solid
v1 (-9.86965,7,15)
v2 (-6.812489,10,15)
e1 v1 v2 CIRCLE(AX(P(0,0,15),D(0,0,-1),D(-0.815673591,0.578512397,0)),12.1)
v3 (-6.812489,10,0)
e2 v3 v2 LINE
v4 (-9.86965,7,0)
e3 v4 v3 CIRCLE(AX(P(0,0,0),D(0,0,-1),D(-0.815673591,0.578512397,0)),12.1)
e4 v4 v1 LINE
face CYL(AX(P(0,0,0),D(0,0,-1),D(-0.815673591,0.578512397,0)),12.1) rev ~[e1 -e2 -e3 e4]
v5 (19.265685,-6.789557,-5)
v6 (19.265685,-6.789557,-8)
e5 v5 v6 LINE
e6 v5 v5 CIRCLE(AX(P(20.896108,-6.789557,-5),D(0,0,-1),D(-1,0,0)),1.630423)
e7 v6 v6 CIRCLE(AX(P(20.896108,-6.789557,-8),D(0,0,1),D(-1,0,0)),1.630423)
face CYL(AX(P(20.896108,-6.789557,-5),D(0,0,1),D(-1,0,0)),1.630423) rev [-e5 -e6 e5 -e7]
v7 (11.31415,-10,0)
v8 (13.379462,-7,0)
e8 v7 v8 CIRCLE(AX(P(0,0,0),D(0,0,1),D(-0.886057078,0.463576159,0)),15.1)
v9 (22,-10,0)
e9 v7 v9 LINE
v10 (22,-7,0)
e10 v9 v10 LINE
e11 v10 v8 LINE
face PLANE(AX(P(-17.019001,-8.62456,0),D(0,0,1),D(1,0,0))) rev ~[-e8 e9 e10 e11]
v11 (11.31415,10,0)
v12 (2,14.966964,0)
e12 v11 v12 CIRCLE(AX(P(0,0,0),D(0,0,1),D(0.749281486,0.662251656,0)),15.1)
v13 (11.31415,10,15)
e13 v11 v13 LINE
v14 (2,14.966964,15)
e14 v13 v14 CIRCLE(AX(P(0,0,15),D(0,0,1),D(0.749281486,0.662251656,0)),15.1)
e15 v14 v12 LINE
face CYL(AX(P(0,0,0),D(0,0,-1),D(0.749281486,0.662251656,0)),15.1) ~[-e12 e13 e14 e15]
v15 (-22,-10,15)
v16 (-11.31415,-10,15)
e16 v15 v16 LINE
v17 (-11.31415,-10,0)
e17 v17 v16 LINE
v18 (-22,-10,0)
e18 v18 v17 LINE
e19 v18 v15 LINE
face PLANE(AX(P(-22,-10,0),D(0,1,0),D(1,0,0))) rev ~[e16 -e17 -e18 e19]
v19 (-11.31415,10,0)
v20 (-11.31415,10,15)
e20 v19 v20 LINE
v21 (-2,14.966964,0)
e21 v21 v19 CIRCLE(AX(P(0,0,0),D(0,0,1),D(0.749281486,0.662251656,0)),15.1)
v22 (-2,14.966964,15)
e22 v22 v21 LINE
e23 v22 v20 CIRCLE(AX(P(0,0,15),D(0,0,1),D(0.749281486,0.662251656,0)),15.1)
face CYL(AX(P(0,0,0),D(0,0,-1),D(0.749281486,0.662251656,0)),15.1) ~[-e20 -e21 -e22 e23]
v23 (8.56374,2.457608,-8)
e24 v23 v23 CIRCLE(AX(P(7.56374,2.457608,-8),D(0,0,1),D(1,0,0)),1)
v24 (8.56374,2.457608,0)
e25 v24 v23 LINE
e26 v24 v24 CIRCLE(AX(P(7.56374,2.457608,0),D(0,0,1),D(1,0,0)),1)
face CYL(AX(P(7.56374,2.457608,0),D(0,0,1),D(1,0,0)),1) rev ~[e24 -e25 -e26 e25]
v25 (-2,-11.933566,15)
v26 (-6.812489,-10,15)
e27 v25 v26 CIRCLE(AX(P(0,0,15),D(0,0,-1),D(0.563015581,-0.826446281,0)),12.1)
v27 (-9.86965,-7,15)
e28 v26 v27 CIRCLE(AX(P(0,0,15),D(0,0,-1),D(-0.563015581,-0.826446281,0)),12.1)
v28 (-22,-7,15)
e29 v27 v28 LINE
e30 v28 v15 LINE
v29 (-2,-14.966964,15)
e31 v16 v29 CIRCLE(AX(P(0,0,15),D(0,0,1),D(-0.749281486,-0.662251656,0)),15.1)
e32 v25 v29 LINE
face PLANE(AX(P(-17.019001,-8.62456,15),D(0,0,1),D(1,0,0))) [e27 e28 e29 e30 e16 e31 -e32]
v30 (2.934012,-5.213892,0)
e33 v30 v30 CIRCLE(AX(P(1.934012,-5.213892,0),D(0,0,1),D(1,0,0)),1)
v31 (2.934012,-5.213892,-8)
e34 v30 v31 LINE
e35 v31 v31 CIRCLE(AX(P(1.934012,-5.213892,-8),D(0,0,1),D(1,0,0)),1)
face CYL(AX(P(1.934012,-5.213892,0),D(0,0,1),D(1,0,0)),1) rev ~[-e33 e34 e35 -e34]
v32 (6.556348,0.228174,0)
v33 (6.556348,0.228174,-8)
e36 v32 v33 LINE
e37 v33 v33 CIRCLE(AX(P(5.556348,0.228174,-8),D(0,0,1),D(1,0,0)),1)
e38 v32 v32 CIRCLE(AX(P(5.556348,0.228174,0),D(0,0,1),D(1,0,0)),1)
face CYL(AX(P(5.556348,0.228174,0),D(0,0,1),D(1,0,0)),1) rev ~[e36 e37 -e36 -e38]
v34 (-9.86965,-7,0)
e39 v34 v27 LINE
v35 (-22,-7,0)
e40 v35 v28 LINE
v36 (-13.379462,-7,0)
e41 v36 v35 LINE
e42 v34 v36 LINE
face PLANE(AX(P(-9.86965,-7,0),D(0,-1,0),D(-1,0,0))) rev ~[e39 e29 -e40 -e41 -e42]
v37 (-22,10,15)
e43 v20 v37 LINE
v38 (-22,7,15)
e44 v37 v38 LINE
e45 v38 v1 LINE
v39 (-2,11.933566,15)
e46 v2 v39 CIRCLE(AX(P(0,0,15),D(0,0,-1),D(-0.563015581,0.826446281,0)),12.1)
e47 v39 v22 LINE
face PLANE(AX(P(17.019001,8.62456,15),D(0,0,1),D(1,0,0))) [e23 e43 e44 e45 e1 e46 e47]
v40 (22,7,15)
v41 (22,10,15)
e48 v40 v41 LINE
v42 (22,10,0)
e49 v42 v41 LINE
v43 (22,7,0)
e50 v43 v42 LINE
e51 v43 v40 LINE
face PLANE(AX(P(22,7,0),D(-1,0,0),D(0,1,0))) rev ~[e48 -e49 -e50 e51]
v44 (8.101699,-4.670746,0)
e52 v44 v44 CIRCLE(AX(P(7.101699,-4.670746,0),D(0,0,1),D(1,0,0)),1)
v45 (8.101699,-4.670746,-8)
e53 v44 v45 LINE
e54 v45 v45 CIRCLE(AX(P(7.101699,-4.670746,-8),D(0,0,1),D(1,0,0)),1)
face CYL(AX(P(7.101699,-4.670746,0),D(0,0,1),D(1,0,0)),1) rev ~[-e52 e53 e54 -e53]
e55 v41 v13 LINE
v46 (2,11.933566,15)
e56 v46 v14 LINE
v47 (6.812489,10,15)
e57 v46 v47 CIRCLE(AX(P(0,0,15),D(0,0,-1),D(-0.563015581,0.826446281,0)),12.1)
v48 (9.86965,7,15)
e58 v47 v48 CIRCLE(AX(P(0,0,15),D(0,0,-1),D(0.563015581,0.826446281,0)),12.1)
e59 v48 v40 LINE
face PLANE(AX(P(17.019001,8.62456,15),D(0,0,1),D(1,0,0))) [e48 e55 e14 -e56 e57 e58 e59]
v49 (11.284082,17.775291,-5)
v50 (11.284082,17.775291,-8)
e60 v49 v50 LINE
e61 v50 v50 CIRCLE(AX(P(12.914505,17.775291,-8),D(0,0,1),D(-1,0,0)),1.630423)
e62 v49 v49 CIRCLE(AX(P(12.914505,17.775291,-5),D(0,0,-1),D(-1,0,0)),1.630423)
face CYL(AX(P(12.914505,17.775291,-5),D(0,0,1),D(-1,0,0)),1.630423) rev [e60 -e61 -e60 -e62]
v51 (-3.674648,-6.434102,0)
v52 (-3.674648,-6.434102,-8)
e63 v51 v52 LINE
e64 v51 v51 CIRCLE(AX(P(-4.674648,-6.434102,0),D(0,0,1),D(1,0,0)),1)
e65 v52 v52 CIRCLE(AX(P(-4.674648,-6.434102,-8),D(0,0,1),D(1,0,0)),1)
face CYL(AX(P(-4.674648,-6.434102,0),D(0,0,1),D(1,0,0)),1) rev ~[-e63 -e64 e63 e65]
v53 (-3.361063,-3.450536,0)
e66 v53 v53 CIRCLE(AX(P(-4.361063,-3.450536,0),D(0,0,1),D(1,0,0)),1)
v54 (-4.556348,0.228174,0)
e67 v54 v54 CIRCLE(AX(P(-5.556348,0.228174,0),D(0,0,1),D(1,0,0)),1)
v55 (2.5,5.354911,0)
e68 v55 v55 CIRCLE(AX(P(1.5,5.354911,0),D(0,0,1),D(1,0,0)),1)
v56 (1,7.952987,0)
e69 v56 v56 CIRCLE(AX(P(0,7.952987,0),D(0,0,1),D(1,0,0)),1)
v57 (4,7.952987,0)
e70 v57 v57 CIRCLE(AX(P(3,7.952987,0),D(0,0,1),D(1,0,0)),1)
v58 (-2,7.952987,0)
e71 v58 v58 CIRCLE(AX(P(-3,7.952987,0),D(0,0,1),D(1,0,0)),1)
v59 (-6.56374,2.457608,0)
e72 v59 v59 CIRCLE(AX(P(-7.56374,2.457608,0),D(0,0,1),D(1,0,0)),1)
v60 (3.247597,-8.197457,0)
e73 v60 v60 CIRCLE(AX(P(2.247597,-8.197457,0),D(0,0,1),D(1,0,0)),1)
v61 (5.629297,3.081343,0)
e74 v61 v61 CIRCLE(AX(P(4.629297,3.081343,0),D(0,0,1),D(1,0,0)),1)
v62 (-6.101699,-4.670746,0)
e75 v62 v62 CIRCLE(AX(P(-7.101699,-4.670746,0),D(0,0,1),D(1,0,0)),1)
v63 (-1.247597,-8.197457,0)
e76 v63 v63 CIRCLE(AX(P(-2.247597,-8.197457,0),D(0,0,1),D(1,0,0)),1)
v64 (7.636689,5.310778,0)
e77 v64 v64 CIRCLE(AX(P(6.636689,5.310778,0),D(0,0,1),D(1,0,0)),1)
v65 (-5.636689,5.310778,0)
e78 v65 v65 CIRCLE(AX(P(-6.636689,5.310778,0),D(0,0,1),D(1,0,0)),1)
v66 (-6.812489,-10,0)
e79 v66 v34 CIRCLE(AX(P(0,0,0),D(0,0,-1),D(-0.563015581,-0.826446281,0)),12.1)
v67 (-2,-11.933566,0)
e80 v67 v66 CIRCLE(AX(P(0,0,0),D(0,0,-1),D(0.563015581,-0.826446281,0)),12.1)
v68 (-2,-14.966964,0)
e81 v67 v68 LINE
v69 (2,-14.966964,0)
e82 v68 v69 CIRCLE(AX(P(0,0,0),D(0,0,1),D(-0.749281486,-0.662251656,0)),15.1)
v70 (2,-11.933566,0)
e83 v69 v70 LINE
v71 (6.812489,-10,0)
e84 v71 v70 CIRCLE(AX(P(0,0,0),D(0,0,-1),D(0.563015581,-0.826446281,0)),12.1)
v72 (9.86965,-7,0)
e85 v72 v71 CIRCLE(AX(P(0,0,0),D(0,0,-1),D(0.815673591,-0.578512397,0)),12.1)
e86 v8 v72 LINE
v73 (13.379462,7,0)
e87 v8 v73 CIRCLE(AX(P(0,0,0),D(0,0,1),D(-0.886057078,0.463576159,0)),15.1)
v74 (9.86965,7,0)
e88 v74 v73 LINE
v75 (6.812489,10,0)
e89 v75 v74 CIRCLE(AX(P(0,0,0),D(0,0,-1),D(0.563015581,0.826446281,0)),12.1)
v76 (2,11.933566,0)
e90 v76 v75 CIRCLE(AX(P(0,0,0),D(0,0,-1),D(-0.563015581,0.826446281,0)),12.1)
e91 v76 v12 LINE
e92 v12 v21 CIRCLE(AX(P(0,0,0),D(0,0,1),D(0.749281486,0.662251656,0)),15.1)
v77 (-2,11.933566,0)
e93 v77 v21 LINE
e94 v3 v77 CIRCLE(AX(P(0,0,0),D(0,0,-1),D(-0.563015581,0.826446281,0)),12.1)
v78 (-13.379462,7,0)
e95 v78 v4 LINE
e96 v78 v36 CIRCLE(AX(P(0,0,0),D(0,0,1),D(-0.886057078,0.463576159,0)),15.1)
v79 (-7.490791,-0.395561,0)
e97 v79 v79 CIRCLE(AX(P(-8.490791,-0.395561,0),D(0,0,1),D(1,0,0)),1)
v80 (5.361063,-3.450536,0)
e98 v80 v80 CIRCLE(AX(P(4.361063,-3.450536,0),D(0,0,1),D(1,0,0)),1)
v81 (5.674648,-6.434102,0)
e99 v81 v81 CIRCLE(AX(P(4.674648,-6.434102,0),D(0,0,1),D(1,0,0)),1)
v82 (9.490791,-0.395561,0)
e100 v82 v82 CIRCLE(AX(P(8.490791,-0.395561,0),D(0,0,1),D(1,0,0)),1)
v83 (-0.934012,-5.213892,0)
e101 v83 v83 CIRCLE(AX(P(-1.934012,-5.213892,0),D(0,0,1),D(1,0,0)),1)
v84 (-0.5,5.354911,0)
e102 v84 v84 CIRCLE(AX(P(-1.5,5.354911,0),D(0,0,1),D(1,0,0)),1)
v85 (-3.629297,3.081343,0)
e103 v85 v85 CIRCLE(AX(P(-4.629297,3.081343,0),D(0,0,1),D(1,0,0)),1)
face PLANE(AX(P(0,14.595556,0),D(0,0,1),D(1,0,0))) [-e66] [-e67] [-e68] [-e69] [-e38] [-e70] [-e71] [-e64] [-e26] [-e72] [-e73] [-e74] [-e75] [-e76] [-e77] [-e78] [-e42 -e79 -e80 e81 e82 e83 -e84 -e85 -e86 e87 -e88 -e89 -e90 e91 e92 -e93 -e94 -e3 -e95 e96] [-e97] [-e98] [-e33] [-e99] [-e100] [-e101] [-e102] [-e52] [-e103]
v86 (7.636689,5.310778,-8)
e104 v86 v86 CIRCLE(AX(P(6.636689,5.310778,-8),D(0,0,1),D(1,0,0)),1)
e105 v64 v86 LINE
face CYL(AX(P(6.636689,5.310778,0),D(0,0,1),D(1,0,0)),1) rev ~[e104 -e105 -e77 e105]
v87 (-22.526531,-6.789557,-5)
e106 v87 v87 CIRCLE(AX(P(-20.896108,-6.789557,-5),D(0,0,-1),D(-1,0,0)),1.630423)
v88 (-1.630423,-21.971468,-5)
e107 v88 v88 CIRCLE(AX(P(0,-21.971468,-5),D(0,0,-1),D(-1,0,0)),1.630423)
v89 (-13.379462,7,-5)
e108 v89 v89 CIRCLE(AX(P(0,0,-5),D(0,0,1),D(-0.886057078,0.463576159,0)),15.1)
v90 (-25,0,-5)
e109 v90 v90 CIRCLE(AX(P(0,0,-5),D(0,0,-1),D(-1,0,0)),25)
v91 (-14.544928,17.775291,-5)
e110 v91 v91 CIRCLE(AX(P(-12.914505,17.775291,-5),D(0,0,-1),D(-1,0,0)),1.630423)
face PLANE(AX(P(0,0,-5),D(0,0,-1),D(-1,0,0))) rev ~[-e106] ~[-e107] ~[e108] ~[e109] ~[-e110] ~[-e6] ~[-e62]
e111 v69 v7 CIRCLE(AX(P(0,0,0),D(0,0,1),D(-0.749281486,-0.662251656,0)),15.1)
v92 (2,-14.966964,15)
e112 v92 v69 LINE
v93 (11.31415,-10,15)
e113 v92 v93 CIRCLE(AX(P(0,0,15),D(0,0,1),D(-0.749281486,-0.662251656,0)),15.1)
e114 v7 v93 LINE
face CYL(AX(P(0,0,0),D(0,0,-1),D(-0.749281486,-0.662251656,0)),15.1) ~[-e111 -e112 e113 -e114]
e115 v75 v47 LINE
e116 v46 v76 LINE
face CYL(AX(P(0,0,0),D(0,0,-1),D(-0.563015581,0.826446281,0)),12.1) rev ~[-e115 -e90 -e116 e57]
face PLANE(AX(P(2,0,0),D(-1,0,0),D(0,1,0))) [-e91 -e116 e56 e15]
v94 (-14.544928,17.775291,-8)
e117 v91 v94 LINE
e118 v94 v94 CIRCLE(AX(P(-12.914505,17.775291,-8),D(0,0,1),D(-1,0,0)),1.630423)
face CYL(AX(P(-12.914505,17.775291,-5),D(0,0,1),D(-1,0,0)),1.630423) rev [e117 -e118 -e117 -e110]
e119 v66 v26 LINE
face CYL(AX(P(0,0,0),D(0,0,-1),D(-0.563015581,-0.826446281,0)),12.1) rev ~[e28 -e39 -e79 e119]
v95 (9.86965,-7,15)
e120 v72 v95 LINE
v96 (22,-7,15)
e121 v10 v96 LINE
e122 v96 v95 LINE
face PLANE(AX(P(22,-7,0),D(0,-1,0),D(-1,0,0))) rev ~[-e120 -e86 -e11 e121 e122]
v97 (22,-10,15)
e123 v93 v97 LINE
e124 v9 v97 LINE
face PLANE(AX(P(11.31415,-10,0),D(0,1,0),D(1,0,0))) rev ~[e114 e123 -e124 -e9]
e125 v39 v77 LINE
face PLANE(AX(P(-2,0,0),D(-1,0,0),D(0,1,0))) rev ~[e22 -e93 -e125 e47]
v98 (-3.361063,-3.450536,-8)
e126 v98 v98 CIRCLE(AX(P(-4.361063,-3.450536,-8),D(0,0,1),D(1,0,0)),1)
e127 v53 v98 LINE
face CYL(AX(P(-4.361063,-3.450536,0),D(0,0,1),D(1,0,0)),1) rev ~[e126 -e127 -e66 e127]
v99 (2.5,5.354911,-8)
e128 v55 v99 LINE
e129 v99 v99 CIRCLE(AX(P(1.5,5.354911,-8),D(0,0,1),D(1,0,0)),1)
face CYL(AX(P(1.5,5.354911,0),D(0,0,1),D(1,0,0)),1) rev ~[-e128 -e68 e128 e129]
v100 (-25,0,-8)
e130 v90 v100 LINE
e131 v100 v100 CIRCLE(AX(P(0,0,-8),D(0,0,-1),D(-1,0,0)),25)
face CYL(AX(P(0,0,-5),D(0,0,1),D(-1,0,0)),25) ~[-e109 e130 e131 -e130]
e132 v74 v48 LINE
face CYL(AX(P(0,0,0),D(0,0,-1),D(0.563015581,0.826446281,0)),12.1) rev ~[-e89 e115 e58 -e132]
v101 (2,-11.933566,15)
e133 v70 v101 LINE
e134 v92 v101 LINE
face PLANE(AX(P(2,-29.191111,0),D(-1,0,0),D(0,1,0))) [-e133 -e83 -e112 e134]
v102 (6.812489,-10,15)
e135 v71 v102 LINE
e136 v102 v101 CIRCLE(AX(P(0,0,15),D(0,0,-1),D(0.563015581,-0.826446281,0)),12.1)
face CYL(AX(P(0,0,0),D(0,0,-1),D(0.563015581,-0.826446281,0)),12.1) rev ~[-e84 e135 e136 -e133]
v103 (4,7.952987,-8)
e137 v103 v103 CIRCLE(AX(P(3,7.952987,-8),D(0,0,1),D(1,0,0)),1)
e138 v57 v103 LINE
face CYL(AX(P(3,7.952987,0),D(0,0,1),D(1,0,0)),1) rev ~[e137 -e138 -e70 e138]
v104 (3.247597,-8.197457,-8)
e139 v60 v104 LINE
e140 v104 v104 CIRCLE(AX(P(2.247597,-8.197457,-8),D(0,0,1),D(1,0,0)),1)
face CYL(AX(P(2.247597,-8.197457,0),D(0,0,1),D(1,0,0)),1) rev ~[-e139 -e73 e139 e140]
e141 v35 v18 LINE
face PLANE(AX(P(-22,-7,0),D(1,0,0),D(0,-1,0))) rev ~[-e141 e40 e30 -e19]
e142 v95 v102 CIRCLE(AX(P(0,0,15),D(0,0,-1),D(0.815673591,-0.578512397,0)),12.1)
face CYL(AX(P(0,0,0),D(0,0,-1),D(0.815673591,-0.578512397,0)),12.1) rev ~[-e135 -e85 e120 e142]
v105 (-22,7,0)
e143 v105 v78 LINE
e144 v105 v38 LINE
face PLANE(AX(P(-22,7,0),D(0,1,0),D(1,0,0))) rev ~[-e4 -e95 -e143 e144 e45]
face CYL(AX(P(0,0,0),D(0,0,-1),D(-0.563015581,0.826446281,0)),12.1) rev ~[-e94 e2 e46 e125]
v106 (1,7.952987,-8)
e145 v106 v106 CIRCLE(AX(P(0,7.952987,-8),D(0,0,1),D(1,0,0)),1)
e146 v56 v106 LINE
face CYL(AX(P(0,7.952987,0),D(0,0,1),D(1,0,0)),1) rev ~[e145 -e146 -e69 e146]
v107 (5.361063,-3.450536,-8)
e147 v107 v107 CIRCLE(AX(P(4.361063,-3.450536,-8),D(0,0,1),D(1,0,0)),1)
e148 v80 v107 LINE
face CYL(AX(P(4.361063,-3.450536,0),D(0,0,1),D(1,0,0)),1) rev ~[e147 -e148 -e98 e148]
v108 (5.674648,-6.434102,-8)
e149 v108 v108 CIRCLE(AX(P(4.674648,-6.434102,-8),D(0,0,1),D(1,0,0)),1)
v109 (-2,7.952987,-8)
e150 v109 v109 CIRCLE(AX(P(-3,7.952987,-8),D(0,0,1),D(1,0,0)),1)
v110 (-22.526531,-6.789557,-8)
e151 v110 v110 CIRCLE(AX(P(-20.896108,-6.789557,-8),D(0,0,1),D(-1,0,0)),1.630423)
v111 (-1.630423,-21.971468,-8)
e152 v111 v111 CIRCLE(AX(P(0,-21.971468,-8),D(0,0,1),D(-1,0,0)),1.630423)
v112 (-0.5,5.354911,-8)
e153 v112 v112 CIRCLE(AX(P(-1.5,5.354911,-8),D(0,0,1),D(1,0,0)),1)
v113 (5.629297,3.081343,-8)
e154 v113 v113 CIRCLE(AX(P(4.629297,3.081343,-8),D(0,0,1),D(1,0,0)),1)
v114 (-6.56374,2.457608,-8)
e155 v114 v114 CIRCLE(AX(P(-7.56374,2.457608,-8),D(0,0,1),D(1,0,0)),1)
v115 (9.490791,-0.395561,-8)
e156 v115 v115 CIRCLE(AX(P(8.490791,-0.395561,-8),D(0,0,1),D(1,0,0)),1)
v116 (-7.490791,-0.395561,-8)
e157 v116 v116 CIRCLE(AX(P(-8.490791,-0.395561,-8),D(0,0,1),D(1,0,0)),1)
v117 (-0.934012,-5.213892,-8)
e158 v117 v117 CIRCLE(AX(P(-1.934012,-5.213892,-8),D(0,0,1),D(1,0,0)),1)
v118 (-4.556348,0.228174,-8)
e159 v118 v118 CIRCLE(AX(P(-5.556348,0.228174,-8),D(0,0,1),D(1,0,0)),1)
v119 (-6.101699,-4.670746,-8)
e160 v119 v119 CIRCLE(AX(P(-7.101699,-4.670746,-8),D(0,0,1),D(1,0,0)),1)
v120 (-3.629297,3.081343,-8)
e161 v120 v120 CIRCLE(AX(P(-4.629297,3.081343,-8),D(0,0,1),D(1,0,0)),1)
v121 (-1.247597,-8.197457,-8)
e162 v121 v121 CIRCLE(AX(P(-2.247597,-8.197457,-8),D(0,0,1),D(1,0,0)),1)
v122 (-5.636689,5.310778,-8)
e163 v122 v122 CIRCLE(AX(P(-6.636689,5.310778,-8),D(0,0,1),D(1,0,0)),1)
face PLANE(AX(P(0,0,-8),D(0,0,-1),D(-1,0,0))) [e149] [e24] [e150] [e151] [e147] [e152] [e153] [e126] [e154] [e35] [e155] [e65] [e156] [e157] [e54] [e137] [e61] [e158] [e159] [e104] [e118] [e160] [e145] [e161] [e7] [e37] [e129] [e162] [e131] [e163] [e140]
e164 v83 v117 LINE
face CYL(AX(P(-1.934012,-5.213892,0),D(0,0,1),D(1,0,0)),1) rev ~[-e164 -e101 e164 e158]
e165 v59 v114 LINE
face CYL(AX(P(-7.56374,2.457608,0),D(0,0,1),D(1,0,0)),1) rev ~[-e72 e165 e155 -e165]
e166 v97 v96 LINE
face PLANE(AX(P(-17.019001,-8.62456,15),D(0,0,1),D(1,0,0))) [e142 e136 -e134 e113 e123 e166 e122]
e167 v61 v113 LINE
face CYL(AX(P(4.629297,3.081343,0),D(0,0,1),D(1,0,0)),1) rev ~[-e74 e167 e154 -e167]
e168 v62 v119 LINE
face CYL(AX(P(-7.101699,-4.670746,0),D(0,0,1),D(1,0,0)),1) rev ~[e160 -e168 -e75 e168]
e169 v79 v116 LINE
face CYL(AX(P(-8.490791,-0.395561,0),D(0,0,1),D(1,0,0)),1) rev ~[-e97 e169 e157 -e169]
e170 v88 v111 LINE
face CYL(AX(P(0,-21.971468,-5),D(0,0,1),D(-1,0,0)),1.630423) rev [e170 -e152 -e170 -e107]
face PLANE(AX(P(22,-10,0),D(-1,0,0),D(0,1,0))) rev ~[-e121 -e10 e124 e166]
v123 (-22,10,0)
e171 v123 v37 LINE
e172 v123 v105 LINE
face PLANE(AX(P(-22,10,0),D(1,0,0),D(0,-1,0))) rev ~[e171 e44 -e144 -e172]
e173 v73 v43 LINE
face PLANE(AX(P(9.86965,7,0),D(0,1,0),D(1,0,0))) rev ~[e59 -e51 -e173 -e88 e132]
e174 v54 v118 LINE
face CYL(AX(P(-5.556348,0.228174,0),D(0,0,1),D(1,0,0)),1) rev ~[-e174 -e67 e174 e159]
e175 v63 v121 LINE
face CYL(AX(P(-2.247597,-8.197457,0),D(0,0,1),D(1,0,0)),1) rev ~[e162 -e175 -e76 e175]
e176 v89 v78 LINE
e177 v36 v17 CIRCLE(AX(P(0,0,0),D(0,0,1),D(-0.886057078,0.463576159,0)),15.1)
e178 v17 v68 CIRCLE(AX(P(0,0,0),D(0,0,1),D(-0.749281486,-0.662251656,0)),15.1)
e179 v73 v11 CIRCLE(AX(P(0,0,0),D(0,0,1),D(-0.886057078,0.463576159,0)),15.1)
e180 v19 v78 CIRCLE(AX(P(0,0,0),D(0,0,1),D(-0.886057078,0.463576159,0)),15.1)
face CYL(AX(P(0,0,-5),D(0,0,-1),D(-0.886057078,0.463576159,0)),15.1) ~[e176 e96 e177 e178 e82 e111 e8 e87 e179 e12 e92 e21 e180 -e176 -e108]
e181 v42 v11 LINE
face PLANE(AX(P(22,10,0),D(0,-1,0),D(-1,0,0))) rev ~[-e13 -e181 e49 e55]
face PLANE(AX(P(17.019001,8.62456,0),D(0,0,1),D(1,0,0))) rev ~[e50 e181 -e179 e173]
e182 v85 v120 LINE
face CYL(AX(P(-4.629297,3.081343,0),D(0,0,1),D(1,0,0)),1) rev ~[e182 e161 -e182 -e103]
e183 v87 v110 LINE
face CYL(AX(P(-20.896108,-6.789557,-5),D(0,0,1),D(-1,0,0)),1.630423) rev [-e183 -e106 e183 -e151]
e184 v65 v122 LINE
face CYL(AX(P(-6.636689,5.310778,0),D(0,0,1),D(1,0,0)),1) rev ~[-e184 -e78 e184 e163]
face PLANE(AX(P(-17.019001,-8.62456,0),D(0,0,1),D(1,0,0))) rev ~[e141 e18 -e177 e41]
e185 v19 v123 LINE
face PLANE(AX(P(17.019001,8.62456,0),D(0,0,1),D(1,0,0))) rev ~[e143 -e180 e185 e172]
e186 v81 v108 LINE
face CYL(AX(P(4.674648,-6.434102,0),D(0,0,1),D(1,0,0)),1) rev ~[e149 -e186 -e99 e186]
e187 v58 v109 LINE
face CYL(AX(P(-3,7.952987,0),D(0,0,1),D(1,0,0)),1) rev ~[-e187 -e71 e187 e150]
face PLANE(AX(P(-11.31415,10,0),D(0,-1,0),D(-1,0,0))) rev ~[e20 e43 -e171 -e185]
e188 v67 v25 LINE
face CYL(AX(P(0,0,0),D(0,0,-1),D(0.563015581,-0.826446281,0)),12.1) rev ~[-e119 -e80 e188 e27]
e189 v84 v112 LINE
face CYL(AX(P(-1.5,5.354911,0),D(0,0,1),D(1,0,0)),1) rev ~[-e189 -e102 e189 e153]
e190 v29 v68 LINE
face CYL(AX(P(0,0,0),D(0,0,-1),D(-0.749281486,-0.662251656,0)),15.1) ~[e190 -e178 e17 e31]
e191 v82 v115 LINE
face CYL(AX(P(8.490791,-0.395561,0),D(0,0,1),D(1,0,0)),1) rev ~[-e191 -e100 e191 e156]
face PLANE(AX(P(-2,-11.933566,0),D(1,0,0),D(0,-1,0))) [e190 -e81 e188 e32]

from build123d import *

# Parameters (mm, degrees)
EXTRUDE_1_DEPTH     = 15
EXTRUDE_START       = -5
SKETCH_2_R          = 15.1
EXTRUDE_2_DEPTH     = 5
CUT_EXTRUDE_START   = -15
SKETCH_4_W          = 4
SKETCH_4_H          = 29.19111141
CUT_EXTRUDE_1_DEPTH = 15
SKETCH_7_R          = 25
EXTRUDE_3_DEPTH     = 3
SKETCH_3_R          = 1.630422744
CUT_EXTRUDE_2_DEPTH = 9
SKETCH_8_R          = 1
CUT_EXTRUDE_3_DEPTH = 10


with BuildPart() as part:
    # 草图1 → 凸台-拉伸1 (new body)
    with BuildSketch(Plane.XY):
        with BuildLine():
            Line((13.379461873, 7), (20, 7))
            Line((20, 7), (22, 7))
            Line((22, 7), (22, 10))
            Line((22, 10), (11.314150432, 10))
            ThreePointArc((11.314150432, 10), (12.437589082, 8.562498341), (13.379461873, 7))
        make_face()
        with BuildLine():
            Line((6.812488532, 10), (11.314150432, 10))
            ThreePointArc((11.314150432, 10), (0, 15.1), (-11.314150432, 10))
            Line((-11.314150432, 10), (-6.812488532, 10))
            ThreePointArc((-6.812488532, 10), (0, 12.1), (6.812488532, 10))
        make_face()
        with BuildLine():
            Line((9.86965045, 7), (13.379461873, 7))
            ThreePointArc((13.379461873, 7), (12.437589082, 8.562498341), (11.314150432, 10))
            Line((11.314150432, 10), (6.812488532, 10))
            ThreePointArc((6.812488532, 10), (8.474871105, 8.636351067), (9.86965045, 7))
        make_face()
        with BuildLine():
            Line((-13.379461873, 7), (-9.86965045, 7))
            ThreePointArc((-9.86965045, 7), (-8.474871105, 8.636351067), (-6.812488532, 10))
            Line((-6.812488532, 10), (-11.314150432, 10))
            ThreePointArc((-11.314150432, 10), (-12.437589082, 8.562498341), (-13.379461873, 7))
        make_face()
        with BuildLine():
            ThreePointArc((-13.379461873, 7), (-12.437589082, 8.562498341), (-11.314150432, 10))
            Line((-11.314150432, 10), (-22, 10))
            Line((-22, 10), (-22, 7))
            Line((-22, 7), (-20, 7))
            Line((-20, 7), (-13.379461873, 7))
        make_face()
        with BuildLine():
            Line((-22, -10), (-11.314150432, -10))
            ThreePointArc((-11.314150432, -10), (-12.437589082, -8.562498341), (-13.379461873, -7))
            Line((-13.379461873, -7), (-20, -7))
            Line((-20, -7), (-22, -7))
            Line((-22, -7), (-22, -10))
        make_face()
        with BuildLine():
            ThreePointArc((11.314150432, -10), (12.437589082, -8.562498341), (13.379461873, -7))
            Line((13.379461873, -7), (9.86965045, -7))
            ThreePointArc((9.86965045, -7), (8.474871105, -8.636351067), (6.812488532, -10))
            Line((6.812488532, -10), (11.314150432, -10))
        make_face()
        with BuildLine():
            ThreePointArc((-6.812488532, -10), (-8.474871105, -8.636351067), (-9.86965045, -7))
            Line((-9.86965045, -7), (-13.379461873, -7))
            ThreePointArc((-13.379461873, -7), (-12.437589082, -8.562498341), (-11.314150432, -10))
            Line((-11.314150432, -10), (-6.812488532, -10))
        make_face()
        with BuildLine():
            ThreePointArc((-11.314150432, -10), (0, -15.1), (11.314150432, -10))
            Line((11.314150432, -10), (6.812488532, -10))
            ThreePointArc((6.812488532, -10), (0, -12.1), (-6.812488532, -10))
            Line((-6.812488532, -10), (-11.314150432, -10))
        make_face()
        with BuildLine():
            Line((22, -7), (20, -7))
            Line((20, -7), (13.379461873, -7))
            ThreePointArc((13.379461873, -7), (12.437589082, -8.562498341), (11.314150432, -10))
            Line((11.314150432, -10), (22, -10))
            Line((22, -10), (22, -7))
        make_face()
    extrude(amount=EXTRUDE_1_DEPTH)

    # 草图2 → 凸台-拉伸2 (add)
    with BuildSketch(Plane.XY.offset(EXTRUDE_START)):
        with Locations(Location((0, 0, 0), (0, 0, 152.381887639))):
            Circle(SKETCH_2_R)
    extrude(amount=EXTRUDE_2_DEPTH)

    # 草图4 → 切除-拉伸1 (cut)
    with BuildSketch(Plane.XY.offset(15).offset(CUT_EXTRUDE_START)):
        with Locations((0, 14.595555705)):
            Rectangle(SKETCH_4_W, SKETCH_4_H)
        with BuildLine():
            Line((-2, -14.96696362), (-2, -29.19111141))
            Line((-2, -29.19111141), (2, -29.19111141))
            Line((2, -29.19111141), (2, -14.96696362))
            ThreePointArc((2, -14.96696362), (0, -15.1), (-2, -14.96696362))
        make_face()
        with BuildLine():
            Line((-2, -11.933566106), (-2, -14.96696362))
            ThreePointArc((-2, -14.96696362), (0, -15.1), (2, -14.96696362))
            Line((2, -14.96696362), (2, -11.933566106))
            ThreePointArc((2, -11.933566106), (0, -12.1), (-2, -11.933566106))
        make_face()
    extrude(amount=CUT_EXTRUDE_1_DEPTH, mode=Mode.SUBTRACT)

    # 草图7 → 凸台-拉伸3 (add)
    with BuildSketch(Plane(origin=(0, 0, -5), x_dir=(-1, 0, 0), z_dir=(0, 0, -1))):
        Circle(SKETCH_7_R)
    extrude(amount=EXTRUDE_3_DEPTH)

    # 草图3 → 切除-拉伸2 (cut)
    with BuildSketch(Plane(origin=(0, 0, -5), x_dir=(-1, 0, 0), z_dir=(0, 0, -1))):
        with Locations((-12.914505057, 17.775291273)):
            Circle(SKETCH_3_R)
        with Locations((12.914505057, 17.775291273)):
            Circle(SKETCH_3_R)
        with Locations((20.89610813, -6.789557106)):
            Circle(SKETCH_3_R)
        with Locations((0, -21.971468333)):
            Circle(SKETCH_3_R)
        with Locations((-20.89610813, -6.789557106)):
            Circle(SKETCH_3_R)
    extrude(amount=CUT_EXTRUDE_2_DEPTH, mode=Mode.SUBTRACT)

    # 草图8 → 切除-拉伸3 (cut)
    with BuildSketch(Plane.XY):
        with Locations((-3, 7.95298686)):
            Circle(SKETCH_8_R)
        with Locations((0, 7.95298686)):
            Circle(SKETCH_8_R)
        with Locations((-1.5, 5.354910649)):
            Circle(SKETCH_8_R)
        with Locations((1.5, 5.354910649)):
            Circle(SKETCH_8_R)
        with Locations((3, 7.95298686)):
            Circle(SKETCH_8_R)
        with Locations((6.636688994, 5.310777645)):
            Circle(SKETCH_8_R)
        with Locations((7.563739977, 2.457608096)):
            Circle(SKETCH_8_R)
        with Locations((8.490790961, -0.395561453)):
            Circle(SKETCH_8_R)
        with Locations((5.556348158, 0.228173619)):
            Circle(SKETCH_8_R)
        with Locations((4.629297175, 3.081343168)):
            Circle(SKETCH_8_R)
        with Locations((7.101699371, -4.670745769)):
            Circle(SKETCH_8_R)
        with Locations((4.674648388, -6.434101526)):
            Circle(SKETCH_8_R)
        with Locations((2.247597405, -8.197457283)):
            Circle(SKETCH_8_R)
        with Locations((1.934012015, -5.213891597)):
            Circle(SKETCH_8_R)
        with Locations((4.361062998, -3.45053584)):
            Circle(SKETCH_8_R)
        with Locations((-2.247597405, -8.197457283)):
            Circle(SKETCH_8_R)
        with Locations((-4.674648388, -6.434101526)):
            Circle(SKETCH_8_R)
        with Locations((-7.101699371, -4.670745769)):
            Circle(SKETCH_8_R)
        with Locations((-4.361062998, -3.45053584)):
            Circle(SKETCH_8_R)
        with Locations((-1.934012015, -5.213891597)):
            Circle(SKETCH_8_R)
        with Locations((-8.490790961, -0.395561453)):
            Circle(SKETCH_8_R)
        with Locations((-7.563739977, 2.457608096)):
            Circle(SKETCH_8_R)
        with Locations((-6.636688994, 5.310777645)):
            Circle(SKETCH_8_R)
        with Locations((-4.629297175, 3.081343168)):
            Circle(SKETCH_8_R)
        with Locations((-5.556348158, 0.228173619)):
            Circle(SKETCH_8_R)
    extrude(amount=-CUT_EXTRUDE_3_DEPTH, mode=Mode.SUBTRACT)


solid = part.part
